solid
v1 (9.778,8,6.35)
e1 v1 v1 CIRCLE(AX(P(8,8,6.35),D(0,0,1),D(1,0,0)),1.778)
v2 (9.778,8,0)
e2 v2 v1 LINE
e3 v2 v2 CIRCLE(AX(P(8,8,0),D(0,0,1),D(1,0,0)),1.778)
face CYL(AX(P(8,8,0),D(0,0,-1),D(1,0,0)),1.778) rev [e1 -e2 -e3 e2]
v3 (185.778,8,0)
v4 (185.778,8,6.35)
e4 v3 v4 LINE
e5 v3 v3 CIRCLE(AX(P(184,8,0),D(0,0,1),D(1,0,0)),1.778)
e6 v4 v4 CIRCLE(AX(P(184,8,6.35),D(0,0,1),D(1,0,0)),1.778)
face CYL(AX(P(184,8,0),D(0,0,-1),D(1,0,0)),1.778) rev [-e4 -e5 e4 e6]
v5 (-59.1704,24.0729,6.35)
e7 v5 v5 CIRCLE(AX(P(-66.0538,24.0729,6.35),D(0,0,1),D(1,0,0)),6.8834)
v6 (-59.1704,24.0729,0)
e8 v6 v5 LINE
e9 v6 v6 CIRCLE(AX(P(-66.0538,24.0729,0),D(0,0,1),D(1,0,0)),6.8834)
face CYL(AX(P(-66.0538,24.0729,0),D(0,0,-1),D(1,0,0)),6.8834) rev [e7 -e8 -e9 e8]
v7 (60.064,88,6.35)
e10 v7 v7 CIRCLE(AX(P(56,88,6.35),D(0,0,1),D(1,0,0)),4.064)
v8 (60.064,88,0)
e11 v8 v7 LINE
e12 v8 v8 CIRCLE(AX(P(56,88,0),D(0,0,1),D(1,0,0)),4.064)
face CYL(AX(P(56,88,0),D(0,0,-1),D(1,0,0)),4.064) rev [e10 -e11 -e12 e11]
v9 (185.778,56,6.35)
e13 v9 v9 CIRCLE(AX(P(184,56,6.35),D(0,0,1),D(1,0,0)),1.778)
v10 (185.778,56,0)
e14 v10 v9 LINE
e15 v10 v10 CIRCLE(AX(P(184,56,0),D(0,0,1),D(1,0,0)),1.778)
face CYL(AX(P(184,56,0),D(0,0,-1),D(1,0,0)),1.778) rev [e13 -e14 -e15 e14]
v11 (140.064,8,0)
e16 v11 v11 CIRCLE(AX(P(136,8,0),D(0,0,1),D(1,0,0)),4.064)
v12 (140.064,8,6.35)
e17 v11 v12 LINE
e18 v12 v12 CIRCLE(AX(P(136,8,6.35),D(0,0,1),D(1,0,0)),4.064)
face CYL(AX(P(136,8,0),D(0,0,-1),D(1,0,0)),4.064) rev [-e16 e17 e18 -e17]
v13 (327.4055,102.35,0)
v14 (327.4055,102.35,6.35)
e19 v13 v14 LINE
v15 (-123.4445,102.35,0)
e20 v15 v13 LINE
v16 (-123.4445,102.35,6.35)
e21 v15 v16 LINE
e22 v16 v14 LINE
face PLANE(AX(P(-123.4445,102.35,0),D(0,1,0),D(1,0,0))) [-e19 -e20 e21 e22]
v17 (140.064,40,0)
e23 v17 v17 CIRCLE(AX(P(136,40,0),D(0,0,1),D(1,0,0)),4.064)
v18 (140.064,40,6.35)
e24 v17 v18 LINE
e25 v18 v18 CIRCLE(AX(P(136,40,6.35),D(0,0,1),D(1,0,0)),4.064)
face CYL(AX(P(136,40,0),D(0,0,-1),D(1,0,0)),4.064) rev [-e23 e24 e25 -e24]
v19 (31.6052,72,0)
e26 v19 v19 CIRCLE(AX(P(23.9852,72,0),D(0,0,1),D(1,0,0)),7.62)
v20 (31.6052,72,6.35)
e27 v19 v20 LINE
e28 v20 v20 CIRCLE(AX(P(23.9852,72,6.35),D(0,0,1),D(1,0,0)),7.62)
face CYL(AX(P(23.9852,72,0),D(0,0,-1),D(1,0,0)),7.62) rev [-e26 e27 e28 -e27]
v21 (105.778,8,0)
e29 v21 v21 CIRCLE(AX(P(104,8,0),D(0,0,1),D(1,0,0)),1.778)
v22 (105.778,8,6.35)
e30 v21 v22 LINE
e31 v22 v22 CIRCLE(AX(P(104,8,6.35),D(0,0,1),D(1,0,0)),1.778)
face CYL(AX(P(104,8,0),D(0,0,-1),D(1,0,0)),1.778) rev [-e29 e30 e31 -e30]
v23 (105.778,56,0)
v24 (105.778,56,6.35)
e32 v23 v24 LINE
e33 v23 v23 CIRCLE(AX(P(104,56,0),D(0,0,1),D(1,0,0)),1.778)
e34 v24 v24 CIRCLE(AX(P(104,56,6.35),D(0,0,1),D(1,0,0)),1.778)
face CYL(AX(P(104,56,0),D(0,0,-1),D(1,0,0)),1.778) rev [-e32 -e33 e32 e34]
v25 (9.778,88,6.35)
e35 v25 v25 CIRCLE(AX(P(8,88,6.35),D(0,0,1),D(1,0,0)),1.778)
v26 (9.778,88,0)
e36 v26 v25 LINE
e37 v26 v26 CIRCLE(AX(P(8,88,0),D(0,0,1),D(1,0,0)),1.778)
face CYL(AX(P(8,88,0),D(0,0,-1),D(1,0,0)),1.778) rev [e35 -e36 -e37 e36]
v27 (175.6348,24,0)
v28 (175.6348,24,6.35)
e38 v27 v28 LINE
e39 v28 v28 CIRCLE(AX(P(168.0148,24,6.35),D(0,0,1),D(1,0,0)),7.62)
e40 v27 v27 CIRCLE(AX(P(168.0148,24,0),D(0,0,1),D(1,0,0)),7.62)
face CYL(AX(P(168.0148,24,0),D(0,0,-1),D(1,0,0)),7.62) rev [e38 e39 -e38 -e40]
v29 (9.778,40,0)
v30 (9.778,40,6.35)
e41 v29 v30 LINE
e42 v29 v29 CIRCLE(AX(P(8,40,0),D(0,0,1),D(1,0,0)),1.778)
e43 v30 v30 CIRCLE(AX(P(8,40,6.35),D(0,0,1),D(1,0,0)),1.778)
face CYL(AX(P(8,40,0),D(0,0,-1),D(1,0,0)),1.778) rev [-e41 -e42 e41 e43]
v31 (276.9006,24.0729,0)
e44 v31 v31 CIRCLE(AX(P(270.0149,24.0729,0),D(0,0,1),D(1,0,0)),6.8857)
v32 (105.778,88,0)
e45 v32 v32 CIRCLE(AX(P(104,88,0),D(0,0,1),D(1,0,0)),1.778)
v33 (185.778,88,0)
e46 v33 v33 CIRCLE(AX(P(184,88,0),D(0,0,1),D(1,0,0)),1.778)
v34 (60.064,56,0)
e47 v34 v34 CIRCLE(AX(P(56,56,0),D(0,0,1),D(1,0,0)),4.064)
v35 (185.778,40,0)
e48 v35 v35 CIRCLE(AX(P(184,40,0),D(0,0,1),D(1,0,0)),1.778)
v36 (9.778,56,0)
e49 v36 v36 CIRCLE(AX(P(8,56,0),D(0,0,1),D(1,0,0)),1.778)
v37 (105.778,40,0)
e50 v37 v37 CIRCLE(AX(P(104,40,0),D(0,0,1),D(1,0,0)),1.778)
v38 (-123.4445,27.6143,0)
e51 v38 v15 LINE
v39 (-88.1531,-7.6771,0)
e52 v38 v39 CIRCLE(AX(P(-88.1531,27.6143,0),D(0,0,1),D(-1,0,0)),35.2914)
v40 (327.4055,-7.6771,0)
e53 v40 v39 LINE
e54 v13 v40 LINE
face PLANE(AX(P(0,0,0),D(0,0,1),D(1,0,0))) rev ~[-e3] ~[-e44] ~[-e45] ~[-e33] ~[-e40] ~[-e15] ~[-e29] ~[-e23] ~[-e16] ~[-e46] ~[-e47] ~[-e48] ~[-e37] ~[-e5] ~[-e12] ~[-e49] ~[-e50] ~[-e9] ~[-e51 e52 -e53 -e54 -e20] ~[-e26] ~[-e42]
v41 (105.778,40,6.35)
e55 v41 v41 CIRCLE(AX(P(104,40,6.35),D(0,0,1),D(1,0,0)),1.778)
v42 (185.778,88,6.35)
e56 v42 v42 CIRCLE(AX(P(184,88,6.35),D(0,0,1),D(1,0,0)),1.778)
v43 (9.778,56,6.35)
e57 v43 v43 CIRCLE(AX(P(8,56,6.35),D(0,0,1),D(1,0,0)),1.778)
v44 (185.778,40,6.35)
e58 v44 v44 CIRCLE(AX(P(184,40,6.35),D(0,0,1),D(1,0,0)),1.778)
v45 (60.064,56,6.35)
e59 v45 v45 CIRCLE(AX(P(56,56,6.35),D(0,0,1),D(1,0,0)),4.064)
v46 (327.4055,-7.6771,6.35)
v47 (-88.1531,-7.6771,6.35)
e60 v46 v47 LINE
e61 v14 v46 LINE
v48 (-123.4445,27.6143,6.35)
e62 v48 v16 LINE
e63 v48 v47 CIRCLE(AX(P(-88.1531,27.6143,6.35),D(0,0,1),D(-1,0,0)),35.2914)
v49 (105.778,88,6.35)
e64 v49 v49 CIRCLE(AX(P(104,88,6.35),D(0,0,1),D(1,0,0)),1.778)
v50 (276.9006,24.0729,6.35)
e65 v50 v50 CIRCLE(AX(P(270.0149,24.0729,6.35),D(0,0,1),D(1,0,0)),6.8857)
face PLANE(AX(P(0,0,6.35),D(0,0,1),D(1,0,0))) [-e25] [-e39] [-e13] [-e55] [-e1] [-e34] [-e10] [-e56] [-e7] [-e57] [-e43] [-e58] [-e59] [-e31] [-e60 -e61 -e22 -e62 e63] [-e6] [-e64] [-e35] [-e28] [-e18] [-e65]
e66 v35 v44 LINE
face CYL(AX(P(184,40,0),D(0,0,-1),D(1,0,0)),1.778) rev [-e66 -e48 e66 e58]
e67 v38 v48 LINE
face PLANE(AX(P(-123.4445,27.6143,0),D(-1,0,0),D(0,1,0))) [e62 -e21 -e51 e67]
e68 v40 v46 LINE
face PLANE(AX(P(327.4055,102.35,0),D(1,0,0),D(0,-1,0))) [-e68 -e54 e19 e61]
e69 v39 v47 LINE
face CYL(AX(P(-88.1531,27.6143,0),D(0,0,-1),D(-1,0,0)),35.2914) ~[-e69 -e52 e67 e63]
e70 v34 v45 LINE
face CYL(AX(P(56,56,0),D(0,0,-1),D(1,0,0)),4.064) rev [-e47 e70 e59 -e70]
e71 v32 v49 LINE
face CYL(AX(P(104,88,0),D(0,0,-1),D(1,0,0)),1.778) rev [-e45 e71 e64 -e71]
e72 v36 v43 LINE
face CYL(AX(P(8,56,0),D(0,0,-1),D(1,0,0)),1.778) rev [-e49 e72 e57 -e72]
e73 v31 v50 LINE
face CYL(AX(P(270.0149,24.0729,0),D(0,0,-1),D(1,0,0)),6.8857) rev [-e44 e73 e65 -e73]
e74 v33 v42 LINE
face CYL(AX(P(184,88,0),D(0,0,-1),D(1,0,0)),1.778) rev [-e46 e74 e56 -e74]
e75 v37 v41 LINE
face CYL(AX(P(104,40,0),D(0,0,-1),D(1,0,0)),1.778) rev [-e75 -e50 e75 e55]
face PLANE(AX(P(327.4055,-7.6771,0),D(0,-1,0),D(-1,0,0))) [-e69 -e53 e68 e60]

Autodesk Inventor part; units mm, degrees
ref_plane "YZ Plane" through (0, 0, 0) normal (1, 0, 0) x (0, 1, 0)
ref_plane "XZ Plane" through (0, 0, 0) normal (0, 1, 0) x (-1, 0, 0)
ref_plane "XY Plane" through (0, 0, 0) normal (0, 0, 1) x (1, 0, 0)
ref_plane "Work Plane1" through (0, 0, 0) normal (0, 0, 1) x (1, 0, 0)
sketch "Sketch1" plane through (0, 0, 0) normal (0, 0, 1) x (1, 0, 0)
  circle A0 centre (104, 56) radius 1.778 construction
  circle A1 centre (104, 88) radius 1.778 construction
  circle A2 centre (184, 88) radius 1.778 construction
  line L0 (327.4055, 102.35) -> (327.4055, -7.6771) construction
  line L1 (-123.4445, 102.35) -> (327.4055, 102.35) construction
  line L2 (-123.4445, 27.6143) -> (-123.4445, 102.35) construction
  arc A3 (-123.4445, 27.6143) -> (-88.1531, -7.6771) centre (-88.1531, 27.6143) ccw construction
  line L3 (327.4055, -7.6771) -> (-88.1531, -7.6771) construction
  circle A4 centre (270.0149, 24.0729) radius 6.8857 construction
  circle A5 centre (-66.0538, 24.0729) radius 6.8834 construction
  circle A6 centre (168.0148, 24) radius 6.8834 construction
  circle A7 centre (23.9852, 72) radius 6.8834 construction
  line L4 (-123.4445, 102.35) -> (327.4055, 102.35)
  line L5 (327.4055, 102.35) -> (327.4055, -7.6771)
  line L6 (327.4055, -7.6771) -> (-88.1531, -7.6771)
  line L7 (-123.4445, 27.6143) -> (-123.4445, 102.35)
  arc A8 (-123.4445, 27.6143) -> (-88.1531, -7.6771) centre (-88.1531, 27.6143) ccw
  circle A9 centre (-66.0538, 24.0729) radius 6.8834
  circle A10 centre (270.0149, 24.0729) radius 6.8857
  circle A11 centre (23.9852, 72) radius 7.62
  circle A12 centre (168.0148, 24) radius 7.62
  circle A13 centre (56, 56) radius 3.5 construction
  circle A14 centre (136, 40) radius 3.5 construction
  circle A15 centre (136, 8) radius 3.5 construction
  circle A16 centre (56, 88) radius 3.5 construction
  circle A17 centre (56, 88) radius 4.064
  circle A18 centre (56, 56) radius 4.064
  circle A19 centre (136, 40) radius 4.064
  circle A20 centre (136, 8) radius 4.064
  line L8 (192, 0) -> (192, 48) construction
  line L9 (0, 48) -> (192, 48) construction
  line L10 (0, 0) -> (0, 48) construction
  line L11 (0, 0) -> (192, 0) construction
  circle A21 centre (168, 24) radius 7 construction
  circle A22 centre (144, 24) radius 7 construction
  arc A23 (160.9289, 33.8995) -> (158.1005, 31.0711) centre (159.5147, 32.4853) ccw construction
  line L12 (161.4142, 33.4142) -> (160.9289, 33.8995) construction
  arc A24 (158.5858, 30.5858) -> (161.4142, 33.4142) centre (160, 32) ccw construction
  line L13 (158.1005, 31.0711) -> (158.5858, 30.5858) construction
  line L14 (155.3137, 22) -> (156.6863, 22) construction
  arc A25 (155.3137, 26) -> (155.3137, 22) centre (155.3137, 24) ccw construction
  line L15 (156.6863, 26) -> (155.3137, 26) construction
  arc A26 (156.6863, 22) -> (156.6863, 26) centre (156.6863, 24) ccw construction
  arc A27 (158.1005, 16.9289) -> (160.9289, 14.1005) centre (159.5147, 15.5147) ccw construction
  line L16 (158.5858, 17.4142) -> (158.1005, 16.9289) construction
  arc A28 (161.4142, 14.5858) -> (158.5858, 17.4142) centre (160, 16) ccw construction
  line L17 (160.9289, 14.1005) -> (161.4142, 14.5858) construction
  arc A29 (177.8995, 31.0711) -> (175.0711, 33.8995) centre (176.4853, 32.4853) ccw construction
  line L18 (177.4142, 30.5858) -> (177.8995, 31.0711) construction
  arc A30 (174.5858, 33.4142) -> (177.4142, 30.5858) centre (176, 32) ccw construction
  line L19 (175.0711, 33.8995) -> (174.5858, 33.4142) construction
  line L20 (180.6863, 26) -> (179.3137, 26) construction
  arc A31 (180.6863, 22) -> (180.6863, 26) centre (180.6863, 24) ccw construction
  line L21 (179.3137, 22) -> (180.6863, 22) construction
  arc A32 (179.3137, 26) -> (179.3137, 22) centre (179.3137, 24) ccw construction
  line L22 (170, 35.3137) -> (170, 40) construction
  arc A33 (166, 35.3137) -> (170, 35.3137) centre (168, 35.3137) ccw construction
  line L23 (166, 40) -> (166, 35.3137) construction
  arc A34 (170, 40) -> (166, 40) centre (168, 40) ccw construction
  circle A35 centre (160, 40) radius 2 construction
  circle A36 centre (152, 40) radius 2 construction
  line L24 (146, 35.3137) -> (146, 40) construction
  arc A37 (142, 35.3137) -> (146, 35.3137) centre (144, 35.3137) ccw construction
  line L25 (142, 40) -> (142, 35.3137) construction
  arc A38 (146, 40) -> (142, 40) centre (144, 40) ccw construction
  circle A39 centre (136, 40) radius 2 construction
  circle A40 centre (128, 40) radius 2 construction
  line L26 (122, 35.3137) -> (122, 40) construction
  arc A41 (118, 35.3137) -> (122, 35.3137) centre (120, 35.3137) ccw construction
  line L27 (118, 40) -> (118, 35.3137) construction
  arc A42 (122, 40) -> (118, 40) centre (120, 40) ccw construction
  circle A43 centre (112, 40) radius 2 construction
  circle A44 centre (104, 40) radius 2 construction
  line L28 (98, 35.3137) -> (98, 40) construction
  arc A45 (94, 35.3137) -> (98, 35.3137) centre (96, 35.3137) ccw construction
  line L29 (94, 40) -> (94, 35.3137) construction
  arc A46 (98, 40) -> (94, 40) centre (96, 40) ccw construction
  circle A47 centre (88, 40) radius 2 construction
  circle A48 centre (80, 40) radius 2 construction
  line L30 (74, 35.3137) -> (74, 40) construction
  arc A49 (70, 35.3137) -> (74, 35.3137) centre (72, 35.3137) ccw construction
  line L31 (70, 40) -> (70, 35.3137) construction
  arc A50 (74, 40) -> (70, 40) centre (72, 40) ccw construction
  circle A51 centre (64, 40) radius 2 construction
  circle A52 centre (56, 40) radius 2 construction
  line L32 (50, 35.3137) -> (50, 40) construction
  arc A53 (46, 35.3137) -> (50, 35.3137) centre (48, 35.3137) ccw construction
  line L33 (46, 40) -> (46, 35.3137) construction
  arc A54 (50, 40) -> (46, 40) centre (48, 40) ccw construction
  circle A55 centre (40, 40) radius 2 construction
  circle A56 centre (32, 40) radius 2 construction
  line L34 (26, 35.3137) -> (26, 40) construction
  arc A57 (22, 35.3137) -> (26, 35.3137) centre (24, 35.3137) ccw construction
  line L35 (22, 40) -> (22, 35.3137) construction
  arc A58 (26, 40) -> (22, 40) centre (24, 40) ccw construction
  circle A59 centre (16, 40) radius 2 construction
  circle A60 centre (8, 40) radius 2 construction
  line L36 (166, 12.6863) -> (166, 8) construction
  arc A61 (170, 12.6863) -> (166, 12.6863) centre (168, 12.6863) ccw construction
  line L37 (170, 8) -> (170, 12.6863) construction
  arc A62 (166, 8) -> (170, 8) centre (168, 8) ccw construction
  circle A63 centre (160, 8) radius 2 construction
  circle A64 centre (152, 8) radius 2 construction
  line L38 (142, 12.6863) -> (142, 8) construction
  arc A65 (146, 12.6863) -> (142, 12.6863) centre (144, 12.6863) ccw construction
  line L39 (146, 8) -> (146, 12.6863) construction
  arc A66 (142, 8) -> (146, 8) centre (144, 8) ccw construction
  circle A67 centre (136, 8) radius 2 construction
  circle A68 centre (128, 8) radius 2 construction
  line L40 (118, 12.6863) -> (118, 8) construction
  arc A69 (122, 12.6863) -> (118, 12.6863) centre (120, 12.6863) ccw construction
  line L41 (122, 8) -> (122, 12.6863) construction
  arc A70 (118, 8) -> (122, 8) centre (120, 8) ccw construction
  circle A71 centre (112, 8) radius 2 construction
  circle A72 centre (104, 8) radius 2 construction
  line L42 (94, 12.6863) -> (94, 8) construction
  arc A73 (98, 12.6863) -> (94, 12.6863) centre (96, 12.6863) ccw construction
  line L43 (98, 8) -> (98, 12.6863) construction
  arc A74 (94, 8) -> (98, 8) centre (96, 8) ccw construction
  circle A75 centre (88, 8) radius 2 construction
  circle A76 centre (80, 8) radius 2 construction
  line L44 (70, 12.6863) -> (70, 8) construction
  arc A77 (74, 12.6863) -> (70, 12.6863) centre (72, 12.6863) ccw construction
  line L45 (74, 8) -> (74, 12.6863) construction
  arc A78 (70, 8) -> (74, 8) centre (72, 8) ccw construction
  circle A79 centre (64, 8) radius 2 construction
  circle A80 centre (56, 8) radius 2 construction
  line L46 (46, 12.6863) -> (46, 8) construction
  arc A81 (50, 12.6863) -> (46, 12.6863) centre (48, 12.6863) ccw construction
  line L47 (50, 8) -> (50, 12.6863) construction
  arc A82 (46, 8) -> (50, 8) centre (48, 8) ccw construction
  circle A83 centre (40, 8) radius 2 construction
  circle A84 centre (32, 8) radius 2 construction
  line L48 (22, 12.6863) -> (22, 8) construction
  arc A85 (26, 12.6863) -> (22, 12.6863) centre (24, 12.6863) ccw construction
  line L49 (26, 8) -> (26, 12.6863) construction
  arc A86 (22, 8) -> (26, 8) centre (24, 8) ccw construction
  circle A87 centre (16, 8) radius 2 construction
  circle A88 centre (8, 8) radius 2 construction
  arc A89 (9.8995, 31.0711) -> (7.0711, 33.8995) centre (8.4853, 32.4853) ccw construction
  line L50 (9.4142, 30.5858) -> (9.8995, 31.0711) construction
  arc A90 (6.5858, 33.4142) -> (9.4142, 30.5858) centre (8, 32) ccw construction
  line L51 (7.0711, 33.8995) -> (6.5858, 33.4142) construction
  arc A91 (7.0711, 14.1005) -> (9.8995, 16.9289) centre (8.4853, 15.5147) ccw construction
  line L52 (6.5858, 14.5858) -> (7.0711, 14.1005) construction
  arc A92 (9.4142, 17.4142) -> (6.5858, 14.5858) centre (8, 16) ccw construction
  line L53 (9.8995, 16.9289) -> (9.4142, 17.4142) construction
  arc A93 (184.9289, 33.8995) -> (182.1005, 31.0711) centre (183.5147, 32.4853) ccw construction
  line L54 (185.4142, 33.4142) -> (184.9289, 33.8995) construction
  arc A94 (182.5858, 30.5858) -> (185.4142, 33.4142) centre (184, 32) ccw construction
  line L55 (182.1005, 31.0711) -> (182.5858, 30.5858) construction
  arc A95 (182.1005, 16.9289) -> (184.9289, 14.1005) centre (183.5147, 15.5147) ccw construction
  line L56 (182.5858, 17.4142) -> (182.1005, 16.9289) construction
  arc A96 (185.4142, 14.5858) -> (182.5858, 17.4142) centre (184, 16) ccw construction
  line L57 (184.9289, 14.1005) -> (185.4142, 14.5858) construction
  circle A97 centre (176, 8) radius 2 construction
  circle A98 centre (176, 40) radius 2 construction
  circle A99 centre (184, 40) radius 2 construction
  circle A100 centre (184, 8) radius 2 construction
  arc A101 (33.8995, 31.0711) -> (31.0711, 33.8995) centre (32.4853, 32.4853) ccw construction
  line L58 (33.4142, 30.5858) -> (33.8995, 31.0711) construction
  arc A102 (30.5858, 33.4142) -> (33.4142, 30.5858) centre (32, 32) ccw construction
  line L59 (31.0711, 33.8995) -> (30.5858, 33.4142) construction
  arc A103 (57.8995, 31.0711) -> (55.0711, 33.8995) centre (56.4853, 32.4853) ccw construction
  line L60 (57.4142, 30.5858) -> (57.8995, 31.0711) construction
  arc A104 (54.5858, 33.4142) -> (57.4142, 30.5858) centre (56, 32) ccw construction
  line L61 (55.0711, 33.8995) -> (54.5858, 33.4142) construction
  arc A105 (81.8995, 31.0711) -> (79.0711, 33.8995) centre (80.4853, 32.4853) ccw construction
  line L62 (81.4142, 30.5858) -> (81.8995, 31.0711) construction
  arc A106 (78.5858, 33.4142) -> (81.4142, 30.5858) centre (80, 32) ccw construction
  line L63 (79.0711, 33.8995) -> (78.5858, 33.4142) construction
  arc A107 (105.8995, 31.0711) -> (103.0711, 33.8995) centre (104.4853, 32.4853) ccw construction
  line L64 (105.4142, 30.5858) -> (105.8995, 31.0711) construction
  arc A108 (102.5858, 33.4142) -> (105.4142, 30.5858) centre (104, 32) ccw construction
  line L65 (103.0711, 33.8995) -> (102.5858, 33.4142) construction
  arc A109 (129.8995, 31.0711) -> (127.0711, 33.8995) centre (128.4853, 32.4853) ccw construction
  line L66 (129.4142, 30.5858) -> (129.8995, 31.0711) construction
  arc A110 (126.5858, 33.4142) -> (129.4142, 30.5858) centre (128, 32) ccw construction
  line L67 (127.0711, 33.8995) -> (126.5858, 33.4142) construction
  arc A111 (153.8995, 31.0711) -> (151.0711, 33.8995) centre (152.4853, 32.4853) ccw construction
  line L68 (153.4142, 30.5858) -> (153.8995, 31.0711) construction
  arc A112 (150.5858, 33.4142) -> (153.4142, 30.5858) centre (152, 32) ccw construction
  line L69 (151.0711, 33.8995) -> (150.5858, 33.4142) construction
  arc A113 (14.1005, 16.9289) -> (16.9289, 14.1005) centre (15.5147, 15.5147) ccw construction
  line L70 (14.5858, 17.4142) -> (14.1005, 16.9289) construction
  arc A114 (17.4142, 14.5858) -> (14.5858, 17.4142) centre (16, 16) ccw construction
  line L71 (16.9289, 14.1005) -> (17.4142, 14.5858) construction
  arc A115 (38.1005, 16.9289) -> (40.9289, 14.1005) centre (39.5147, 15.5147) ccw construction
  line L72 (38.5858, 17.4142) -> (38.1005, 16.9289) construction
  arc A116 (41.4142, 14.5858) -> (38.5858, 17.4142) centre (40, 16) ccw construction
  line L73 (40.9289, 14.1005) -> (41.4142, 14.5858) construction
  arc A117 (62.1005, 16.9289) -> (64.9289, 14.1005) centre (63.5147, 15.5147) ccw construction
  line L74 (62.5858, 17.4142) -> (62.1005, 16.9289) construction
  arc A118 (65.4142, 14.5858) -> (62.5858, 17.4142) centre (64, 16) ccw construction
  line L75 (64.9289, 14.1005) -> (65.4142, 14.5858) construction
  arc A119 (86.1005, 16.9289) -> (88.9289, 14.1005) centre (87.5147, 15.5147) ccw construction
  line L76 (86.5858, 17.4142) -> (86.1005, 16.9289) construction
  arc A120 (89.4142, 14.5858) -> (86.5858, 17.4142) centre (88, 16) ccw construction
  line L77 (88.9289, 14.1005) -> (89.4142, 14.5858) construction
  arc A121 (110.1005, 16.9289) -> (112.9289, 14.1005) centre (111.5147, 15.5147) ccw construction
  line L78 (110.5858, 17.4142) -> (110.1005, 16.9289) construction
  arc A122 (113.4142, 14.5858) -> (110.5858, 17.4142) centre (112, 16) ccw construction
  line L79 (112.9289, 14.1005) -> (113.4142, 14.5858) construction
  arc A123 (134.1005, 16.9289) -> (136.9289, 14.1005) centre (135.5147, 15.5147) ccw construction
  line L80 (134.5858, 17.4142) -> (134.1005, 16.9289) construction
  arc A124 (137.4142, 14.5858) -> (134.5858, 17.4142) centre (136, 16) ccw construction
  line L81 (136.9289, 14.1005) -> (137.4142, 14.5858) construction
  arc A125 (11.3137, 26) -> (11.3137, 22) centre (11.3137, 24) ccw construction
  line L82 (12.6863, 26) -> (11.3137, 26) construction
  arc A126 (12.6863, 22) -> (12.6863, 26) centre (12.6863, 24) ccw construction
  line L83 (11.3137, 22) -> (12.6863, 22) construction
  line L84 (35.3137, 22) -> (36.6863, 22) construction
  arc A127 (35.3137, 26) -> (35.3137, 22) centre (35.3137, 24) ccw construction
  line L85 (36.6863, 26) -> (35.3137, 26) construction
  arc A128 (36.6863, 22) -> (36.6863, 26) centre (36.6863, 24) ccw construction
  line L86 (59.3137, 22) -> (60.6863, 22) construction
  arc A129 (59.3137, 26) -> (59.3137, 22) centre (59.3137, 24) ccw construction
  line L87 (60.6863, 26) -> (59.3137, 26) construction
  arc A130 (60.6863, 22) -> (60.6863, 26) centre (60.6863, 24) ccw construction
  line L88 (83.3137, 22) -> (84.6863, 22) construction
  arc A131 (83.3137, 26) -> (83.3137, 22) centre (83.3137, 24) ccw construction
  line L89 (84.6863, 26) -> (83.3137, 26) construction
  arc A132 (84.6863, 22) -> (84.6863, 26) centre (84.6863, 24) ccw construction
  line L90 (107.3137, 22) -> (108.6863, 22) construction
  arc A133 (107.3137, 26) -> (107.3137, 22) centre (107.3137, 24) ccw construction
  line L91 (108.6863, 26) -> (107.3137, 26) construction
  arc A134 (108.6863, 22) -> (108.6863, 26) centre (108.6863, 24) ccw construction
  line L92 (131.3137, 22) -> (132.6863, 22) construction
  arc A135 (131.3137, 26) -> (131.3137, 22) centre (131.3137, 24) ccw construction
  line L93 (132.6863, 26) -> (131.3137, 26) construction
  arc A136 (132.6863, 22) -> (132.6863, 26) centre (132.6863, 24) ccw construction
  arc A137 (16.9289, 33.8995) -> (14.1005, 31.0711) centre (15.5147, 32.4853) ccw construction
  line L94 (17.4142, 33.4142) -> (16.9289, 33.8995) construction
  arc A138 (14.5858, 30.5858) -> (17.4142, 33.4142) centre (16, 32) ccw construction
  line L95 (14.1005, 31.0711) -> (14.5858, 30.5858) construction
  arc A139 (40.9289, 33.8995) -> (38.1005, 31.0711) centre (39.5147, 32.4853) ccw construction
  line L96 (41.4142, 33.4142) -> (40.9289, 33.8995) construction
  arc A140 (38.5858, 30.5858) -> (41.4142, 33.4142) centre (40, 32) ccw construction
  line L97 (38.1005, 31.0711) -> (38.5858, 30.5858) construction
  arc A141 (64.9289, 33.8995) -> (62.1005, 31.0711) centre (63.5147, 32.4853) ccw construction
  line L98 (65.4142, 33.4142) -> (64.9289, 33.8995) construction
  arc A142 (62.5858, 30.5858) -> (65.4142, 33.4142) centre (64, 32) ccw construction
  line L99 (62.1005, 31.0711) -> (62.5858, 30.5858) construction
  arc A143 (88.9289, 33.8995) -> (86.1005, 31.0711) centre (87.5147, 32.4853) ccw construction
  line L100 (89.4142, 33.4142) -> (88.9289, 33.8995) construction
  arc A144 (86.5858, 30.5858) -> (89.4142, 33.4142) centre (88, 32) ccw construction
  line L101 (86.1005, 31.0711) -> (86.5858, 30.5858) construction
  arc A145 (112.9289, 33.8995) -> (110.1005, 31.0711) centre (111.5147, 32.4853) ccw construction
  line L102 (113.4142, 33.4142) -> (112.9289, 33.8995) construction
  arc A146 (110.5858, 30.5858) -> (113.4142, 33.4142) centre (112, 32) ccw construction
  line L103 (110.1005, 31.0711) -> (110.5858, 30.5858) construction
  arc A147 (136.9289, 33.8995) -> (134.1005, 31.0711) centre (135.5147, 32.4853) ccw construction
  line L104 (137.4142, 33.4142) -> (136.9289, 33.8995) construction
  arc A148 (134.5858, 30.5858) -> (137.4142, 33.4142) centre (136, 32) ccw construction
  line L105 (134.1005, 31.0711) -> (134.5858, 30.5858) construction
  arc A149 (31.0711, 14.1005) -> (33.8995, 16.9289) centre (32.4853, 15.5147) ccw construction
  line L106 (30.5858, 14.5858) -> (31.0711, 14.1005) construction
  arc A150 (33.4142, 17.4142) -> (30.5858, 14.5858) centre (32, 16) ccw construction
  line L107 (33.8995, 16.9289) -> (33.4142, 17.4142) construction
  arc A151 (55.0711, 14.1005) -> (57.8995, 16.9289) centre (56.4853, 15.5147) ccw construction
  line L108 (54.5858, 14.5858) -> (55.0711, 14.1005) construction
  arc A152 (57.4142, 17.4142) -> (54.5858, 14.5858) centre (56, 16) ccw construction
  line L109 (57.8995, 16.9289) -> (57.4142, 17.4142) construction
  arc A153 (79.0711, 14.1005) -> (81.8995, 16.9289) centre (80.4853, 15.5147) ccw construction
  line L110 (78.5858, 14.5858) -> (79.0711, 14.1005) construction
  arc A154 (81.4142, 17.4142) -> (78.5858, 14.5858) centre (80, 16) ccw construction
  line L111 (81.8995, 16.9289) -> (81.4142, 17.4142) construction
  arc A155 (103.0711, 14.1005) -> (105.8995, 16.9289) centre (104.4853, 15.5147) ccw construction
  line L112 (102.5858, 14.5858) -> (103.0711, 14.1005) construction
  arc A156 (105.4142, 17.4142) -> (102.5858, 14.5858) centre (104, 16) ccw construction
  line L113 (105.8995, 16.9289) -> (105.4142, 17.4142) construction
  arc A157 (127.0711, 14.1005) -> (129.8995, 16.9289) centre (128.4853, 15.5147) ccw construction
  line L114 (126.5858, 14.5858) -> (127.0711, 14.1005) construction
  arc A158 (129.4142, 17.4142) -> (126.5858, 14.5858) centre (128, 16) ccw construction
  line L115 (129.8995, 16.9289) -> (129.4142, 17.4142) construction
  arc A159 (151.0711, 14.1005) -> (153.8995, 16.9289) centre (152.4853, 15.5147) ccw construction
  line L116 (150.5858, 14.5858) -> (151.0711, 14.1005) construction
  arc A160 (153.4142, 17.4142) -> (150.5858, 14.5858) centre (152, 16) ccw construction
  line L117 (153.8995, 16.9289) -> (153.4142, 17.4142) construction
  arc A161 (175.0711, 14.1005) -> (177.8995, 16.9289) centre (176.4853, 15.5147) ccw construction
  line L118 (174.5858, 14.5858) -> (175.0711, 14.1005) construction
  arc A162 (177.4142, 17.4142) -> (174.5858, 14.5858) centre (176, 16) ccw construction
  line L119 (177.8995, 16.9289) -> (177.4142, 17.4142) construction
  circle A163 centre (24, 24) radius 7 construction
  circle A164 centre (48, 24) radius 7 construction
  circle A165 centre (72, 24) radius 7 construction
  circle A166 centre (96, 24) radius 7 construction
  circle A167 centre (120, 24) radius 7 construction
  line L120 (0, 96) -> (0, 48) construction
  line L121 (192, 48) -> (0, 48) construction
  line L122 (192, 96) -> (192, 48) construction
  line L123 (192, 96) -> (0, 96) construction
  circle A168 centre (24, 72) radius 7 construction
  circle A169 centre (48, 72) radius 7 construction
  arc A170 (31.0711, 62.1005) -> (33.8995, 64.9289) centre (32.4853, 63.5147) ccw construction
  line L124 (30.5858, 62.5858) -> (31.0711, 62.1005) construction
  arc A171 (33.4142, 65.4142) -> (30.5858, 62.5858) centre (32, 64) ccw construction
  line L125 (33.8995, 64.9289) -> (33.4142, 65.4142) construction
  line L126 (36.6863, 74) -> (35.3137, 74) construction
  arc A172 (36.6863, 70) -> (36.6863, 74) centre (36.6863, 72) ccw construction
  line L127 (35.3137, 70) -> (36.6863, 70) construction
  arc A173 (35.3137, 74) -> (35.3137, 70) centre (35.3137, 72) ccw construction
  arc A174 (33.8995, 79.0711) -> (31.0711, 81.8995) centre (32.4853, 80.4853) ccw construction
  line L128 (33.4142, 78.5858) -> (33.8995, 79.0711) construction
  arc A175 (30.5858, 81.4142) -> (33.4142, 78.5858) centre (32, 80) ccw construction
  line L129 (31.0711, 81.8995) -> (30.5858, 81.4142) construction
  arc A176 (14.1005, 64.9289) -> (16.9289, 62.1005) centre (15.5147, 63.5147) ccw construction
  line L130 (14.5858, 65.4142) -> (14.1005, 64.9289) construction
  arc A177 (17.4142, 62.5858) -> (14.5858, 65.4142) centre (16, 64) ccw construction
  line L131 (16.9289, 62.1005) -> (17.4142, 62.5858) construction
  line L132 (11.3137, 70) -> (12.6863, 70) construction
  arc A178 (11.3137, 74) -> (11.3137, 70) centre (11.3137, 72) ccw construction
  line L133 (12.6863, 74) -> (11.3137, 74) construction
  arc A179 (12.6863, 70) -> (12.6863, 74) centre (12.6863, 72) ccw construction
  line L134 (22, 60.6863) -> (22, 56) construction
  arc A180 (26, 60.6863) -> (22, 60.6863) centre (24, 60.6863) ccw construction
  line L135 (26, 56) -> (26, 60.6863) construction
  arc A181 (22, 56) -> (26, 56) centre (24, 56) ccw construction
  circle A182 centre (32, 56) radius 2 construction
  circle A183 centre (40, 56) radius 2 construction
  line L136 (46, 60.6863) -> (46, 56) construction
  arc A184 (50, 60.6863) -> (46, 60.6863) centre (48, 60.6863) ccw construction
  line L137 (50, 56) -> (50, 60.6863) construction
  arc A185 (46, 56) -> (50, 56) centre (48, 56) ccw construction
  circle A186 centre (56, 56) radius 2 construction
  circle A187 centre (64, 56) radius 2 construction
  line L138 (70, 60.6863) -> (70, 56) construction
  arc A188 (74, 60.6863) -> (70, 60.6863) centre (72, 60.6863) ccw construction
  line L139 (74, 56) -> (74, 60.6863) construction
  arc A189 (70, 56) -> (74, 56) centre (72, 56) ccw construction
  circle A190 centre (80, 56) radius 2 construction
  circle A191 centre (88, 56) radius 2 construction
  line L140 (94, 60.6863) -> (94, 56) construction
  arc A192 (98, 60.6863) -> (94, 60.6863) centre (96, 60.6863) ccw construction
  line L141 (98, 56) -> (98, 60.6863) construction
  arc A193 (94, 56) -> (98, 56) centre (96, 56) ccw construction
  circle A194 centre (104, 56) radius 2 construction
  circle A195 centre (112, 56) radius 2 construction
  line L142 (118, 60.6863) -> (118, 56) construction
  arc A196 (122, 60.6863) -> (118, 60.6863) centre (120, 60.6863) ccw construction
  line L143 (122, 56) -> (122, 60.6863) construction
  arc A197 (118, 56) -> (122, 56) centre (120, 56) ccw construction
  circle A198 centre (128, 56) radius 2 construction
  circle A199 centre (136, 56) radius 2 construction
  line L144 (142, 60.6863) -> (142, 56) construction
  arc A200 (146, 60.6863) -> (142, 60.6863) centre (144, 60.6863) ccw construction
  line L145 (146, 56) -> (146, 60.6863) construction
  arc A201 (142, 56) -> (146, 56) centre (144, 56) ccw construction
  circle A202 centre (152, 56) radius 2 construction
  circle A203 centre (160, 56) radius 2 construction
  line L146 (166, 60.6863) -> (166, 56) construction
  arc A204 (170, 60.6863) -> (166, 60.6863) centre (168, 60.6863) ccw construction
  line L147 (170, 56) -> (170, 60.6863) construction
  arc A205 (166, 56) -> (170, 56) centre (168, 56) ccw construction
  circle A206 centre (176, 56) radius 2 construction
  circle A207 centre (184, 56) radius 2 construction
  line L148 (26, 83.3137) -> (26, 88) construction
  arc A208 (22, 83.3137) -> (26, 83.3137) centre (24, 83.3137) ccw construction
  line L149 (22, 88) -> (22, 83.3137) construction
  arc A209 (26, 88) -> (22, 88) centre (24, 88) ccw construction
  circle A210 centre (32, 88) radius 2 construction
  circle A211 centre (40, 88) radius 2 construction
  line L150 (50, 83.3137) -> (50, 88) construction
  arc A212 (46, 83.3137) -> (50, 83.3137) centre (48, 83.3137) ccw construction
  line L151 (46, 88) -> (46, 83.3137) construction
  arc A213 (50, 88) -> (46, 88) centre (48, 88) ccw construction
  circle A214 centre (56, 88) radius 2 construction
  circle A215 centre (64, 88) radius 2 construction
  line L152 (74, 83.3137) -> (74, 88) construction
  arc A216 (70, 83.3137) -> (74, 83.3137) centre (72, 83.3137) ccw construction
  line L153 (70, 88) -> (70, 83.3137) construction
  arc A217 (74, 88) -> (70, 88) centre (72, 88) ccw construction
  circle A218 centre (80, 88) radius 2 construction
  circle A219 centre (88, 88) radius 2 construction
  line L154 (98, 83.3137) -> (98, 88) construction
  arc A220 (94, 83.3137) -> (98, 83.3137) centre (96, 83.3137) ccw construction
  line L155 (94, 88) -> (94, 83.3137) construction
  arc A221 (98, 88) -> (94, 88) centre (96, 88) ccw construction
  circle A222 centre (104, 88) radius 2 construction
  circle A223 centre (112, 88) radius 2 construction
  line L156 (122, 83.3137) -> (122, 88) construction
  arc A224 (118, 83.3137) -> (122, 83.3137) centre (120, 83.3137) ccw construction
  line L157 (118, 88) -> (118, 83.3137) construction
  arc A225 (122, 88) -> (118, 88) centre (120, 88) ccw construction
  circle A226 centre (128, 88) radius 2 construction
  circle A227 centre (136, 88) radius 2 construction
  line L158 (146, 83.3137) -> (146, 88) construction
  arc A228 (142, 83.3137) -> (146, 83.3137) centre (144, 83.3137) ccw construction
  line L159 (142, 88) -> (142, 83.3137) construction
  arc A229 (146, 88) -> (142, 88) centre (144, 88) ccw construction
  circle A230 centre (152, 88) radius 2 construction
  circle A231 centre (160, 88) radius 2 construction
  line L160 (170, 83.3137) -> (170, 88) construction
  arc A232 (166, 83.3137) -> (170, 83.3137) centre (168, 83.3137) ccw construction
  line L161 (166, 88) -> (166, 83.3137) construction
  arc A233 (170, 88) -> (166, 88) centre (168, 88) ccw construction
  circle A234 centre (176, 88) radius 2 construction
  circle A235 centre (184, 88) radius 2 construction
  arc A236 (182.1005, 64.9289) -> (184.9289, 62.1005) centre (183.5147, 63.5147) ccw construction
  line L162 (182.5858, 65.4142) -> (182.1005, 64.9289) construction
  arc A237 (185.4142, 62.5858) -> (182.5858, 65.4142) centre (184, 64) ccw construction
  line L163 (184.9289, 62.1005) -> (185.4142, 62.5858) construction
  arc A238 (184.9289, 81.8995) -> (182.1005, 79.0711) centre (183.5147, 80.4853) ccw construction
  line L164 (185.4142, 81.4142) -> (184.9289, 81.8995) construction
  arc A239 (182.5858, 78.5858) -> (185.4142, 81.4142) centre (184, 80) ccw construction
  line L165 (182.1005, 79.0711) -> (182.5858, 78.5858) construction
  arc A240 (7.0711, 62.1005) -> (9.8995, 64.9289) centre (8.4853, 63.5147) ccw construction
  line L166 (6.5858, 62.5858) -> (7.0711, 62.1005) construction
  arc A241 (9.4142, 65.4142) -> (6.5858, 62.5858) centre (8, 64) ccw construction
  line L167 (9.8995, 64.9289) -> (9.4142, 65.4142) construction
  arc A242 (9.8995, 79.0711) -> (7.0711, 81.8995) centre (8.4853, 80.4853) ccw construction
  line L168 (9.4142, 78.5858) -> (9.8995, 79.0711) construction
  arc A243 (6.5858, 81.4142) -> (9.4142, 78.5858) centre (8, 80) ccw construction
  line L169 (7.0711, 81.8995) -> (6.5858, 81.4142) construction
  circle A244 centre (16, 88) radius 2 construction
  circle A245 centre (16, 56) radius 2 construction
  circle A246 centre (8, 56) radius 2 construction
  circle A247 centre (8, 88) radius 2 construction
  arc A248 (158.1005, 64.9289) -> (160.9289, 62.1005) centre (159.5147, 63.5147) ccw construction
  line L170 (158.5858, 65.4142) -> (158.1005, 64.9289) construction
  arc A249 (161.4142, 62.5858) -> (158.5858, 65.4142) centre (160, 64) ccw construction
  line L171 (160.9289, 62.1005) -> (161.4142, 62.5858) construction
  arc A250 (134.1005, 64.9289) -> (136.9289, 62.1005) centre (135.5147, 63.5147) ccw construction
  line L172 (134.5858, 65.4142) -> (134.1005, 64.9289) construction
  arc A251 (137.4142, 62.5858) -> (134.5858, 65.4142) centre (136, 64) ccw construction
  line L173 (136.9289, 62.1005) -> (137.4142, 62.5858) construction
  arc A252 (110.1005, 64.9289) -> (112.9289, 62.1005) centre (111.5147, 63.5147) ccw construction
  line L174 (110.5858, 65.4142) -> (110.1005, 64.9289) construction
  arc A253 (113.4142, 62.5858) -> (110.5858, 65.4142) centre (112, 64) ccw construction
  line L175 (112.9289, 62.1005) -> (113.4142, 62.5858) construction
  arc A254 (86.1005, 64.9289) -> (88.9289, 62.1005) centre (87.5147, 63.5147) ccw construction
  line L176 (86.5858, 65.4142) -> (86.1005, 64.9289) construction
  arc A255 (89.4142, 62.5858) -> (86.5858, 65.4142) centre (88, 64) ccw construction
  line L177 (88.9289, 62.1005) -> (89.4142, 62.5858) construction
  arc A256 (62.1005, 64.9289) -> (64.9289, 62.1005) centre (63.5147, 63.5147) ccw construction
  line L178 (62.5858, 65.4142) -> (62.1005, 64.9289) construction
  arc A257 (65.4142, 62.5858) -> (62.5858, 65.4142) centre (64, 64) ccw construction
  line L179 (64.9289, 62.1005) -> (65.4142, 62.5858) construction
  arc A258 (38.1005, 64.9289) -> (40.9289, 62.1005) centre (39.5147, 63.5147) ccw construction
  line L180 (38.5858, 65.4142) -> (38.1005, 64.9289) construction
  arc A259 (41.4142, 62.5858) -> (38.5858, 65.4142) centre (40, 64) ccw construction
  line L181 (40.9289, 62.1005) -> (41.4142, 62.5858) construction
  arc A260 (177.8995, 79.0711) -> (175.0711, 81.8995) centre (176.4853, 80.4853) ccw construction
  line L182 (177.4142, 78.5858) -> (177.8995, 79.0711) construction
  arc A261 (174.5858, 81.4142) -> (177.4142, 78.5858) centre (176, 80) ccw construction
  line L183 (175.0711, 81.8995) -> (174.5858, 81.4142) construction
  arc A262 (153.8995, 79.0711) -> (151.0711, 81.8995) centre (152.4853, 80.4853) ccw construction
  line L184 (153.4142, 78.5858) -> (153.8995, 79.0711) construction
  arc A263 (150.5858, 81.4142) -> (153.4142, 78.5858) centre (152, 80) ccw construction
  line L185 (151.0711, 81.8995) -> (150.5858, 81.4142) construction
  arc A264 (129.8995, 79.0711) -> (127.0711, 81.8995) centre (128.4853, 80.4853) ccw construction
  line L186 (129.4142, 78.5858) -> (129.8995, 79.0711) construction
  arc A265 (126.5858, 81.4142) -> (129.4142, 78.5858) centre (128, 80) ccw construction
  line L187 (127.0711, 81.8995) -> (126.5858, 81.4142) construction
  arc A266 (105.8995, 79.0711) -> (103.0711, 81.8995) centre (104.4853, 80.4853) ccw construction
  line L188 (105.4142, 78.5858) -> (105.8995, 79.0711) construction
  arc A267 (102.5858, 81.4142) -> (105.4142, 78.5858) centre (104, 80) ccw construction
  line L189 (103.0711, 81.8995) -> (102.5858, 81.4142) construction
  arc A268 (81.8995, 79.0711) -> (79.0711, 81.8995) centre (80.4853, 80.4853) ccw construction
  line L190 (81.4142, 78.5858) -> (81.8995, 79.0711) construction
  arc A269 (78.5858, 81.4142) -> (81.4142, 78.5858) centre (80, 80) ccw construction
  line L191 (79.0711, 81.8995) -> (78.5858, 81.4142) construction
  arc A270 (57.8995, 79.0711) -> (55.0711, 81.8995) centre (56.4853, 80.4853) ccw construction
  line L192 (57.4142, 78.5858) -> (57.8995, 79.0711) construction
  arc A271 (54.5858, 81.4142) -> (57.4142, 78.5858) centre (56, 80) ccw construction
  line L193 (55.0711, 81.8995) -> (54.5858, 81.4142) construction
  arc A272 (180.6863, 70) -> (180.6863, 74) centre (180.6863, 72) ccw construction
  line L194 (179.3137, 70) -> (180.6863, 70) construction
  arc A273 (179.3137, 74) -> (179.3137, 70) centre (179.3137, 72) ccw construction
  line L195 (180.6863, 74) -> (179.3137, 74) construction
  line L196 (156.6863, 74) -> (155.3137, 74) construction
  arc A274 (156.6863, 70) -> (156.6863, 74) centre (156.6863, 72) ccw construction
  line L197 (155.3137, 70) -> (156.6863, 70) construction
  arc A275 (155.3137, 74) -> (155.3137, 70) centre (155.3137, 72) ccw construction
  line L198 (132.6863, 74) -> (131.3137, 74) construction
  arc A276 (132.6863, 70) -> (132.6863, 74) centre (132.6863, 72) ccw construction
  line L199 (131.3137, 70) -> (132.6863, 70) construction
  arc A277 (131.3137, 74) -> (131.3137, 70) centre (131.3137, 72) ccw construction
  line L200 (108.6863, 74) -> (107.3137, 74) construction
  arc A278 (108.6863, 70) -> (108.6863, 74) centre (108.6863, 72) ccw construction
  line L201 (107.3137, 70) -> (108.6863, 70) construction
  arc A279 (107.3137, 74) -> (107.3137, 70) centre (107.3137, 72) ccw construction
  line L202 (84.6863, 74) -> (83.3137, 74) construction
  arc A280 (84.6863, 70) -> (84.6863, 74) centre (84.6863, 72) ccw construction
  line L203 (83.3137, 70) -> (84.6863, 70) construction
  arc A281 (83.3137, 74) -> (83.3137, 70) centre (83.3137, 72) ccw construction
  line L204 (60.6863, 74) -> (59.3137, 74) construction
  arc A282 (60.6863, 70) -> (60.6863, 74) centre (60.6863, 72) ccw construction
  line L205 (59.3137, 70) -> (60.6863, 70) construction
  arc A283 (59.3137, 74) -> (59.3137, 70) centre (59.3137, 72) ccw construction
  arc A284 (175.0711, 62.1005) -> (177.8995, 64.9289) centre (176.4853, 63.5147) ccw construction
  line L206 (174.5858, 62.5858) -> (175.0711, 62.1005) construction
  arc A285 (177.4142, 65.4142) -> (174.5858, 62.5858) centre (176, 64) ccw construction
  line L207 (177.8995, 64.9289) -> (177.4142, 65.4142) construction
  arc A286 (151.0711, 62.1005) -> (153.8995, 64.9289) centre (152.4853, 63.5147) ccw construction
  line L208 (150.5858, 62.5858) -> (151.0711, 62.1005) construction
  arc A287 (153.4142, 65.4142) -> (150.5858, 62.5858) centre (152, 64) ccw construction
  line L209 (153.8995, 64.9289) -> (153.4142, 65.4142) construction
  arc A288 (127.0711, 62.1005) -> (129.8995, 64.9289) centre (128.4853, 63.5147) ccw construction
  line L210 (126.5858, 62.5858) -> (127.0711, 62.1005) construction
  arc A289 (129.4142, 65.4142) -> (126.5858, 62.5858) centre (128, 64) ccw construction
  line L211 (129.8995, 64.9289) -> (129.4142, 65.4142) construction
  arc A290 (103.0711, 62.1005) -> (105.8995, 64.9289) centre (104.4853, 63.5147) ccw construction
  line L212 (102.5858, 62.5858) -> (103.0711, 62.1005) construction
  arc A291 (105.4142, 65.4142) -> (102.5858, 62.5858) centre (104, 64) ccw construction
  line L213 (105.8995, 64.9289) -> (105.4142, 65.4142) construction
  arc A292 (79.0711, 62.1005) -> (81.8995, 64.9289) centre (80.4853, 63.5147) ccw construction
  line L214 (78.5858, 62.5858) -> (79.0711, 62.1005) construction
  arc A293 (81.4142, 65.4142) -> (78.5858, 62.5858) centre (80, 64) ccw construction
  line L215 (81.8995, 64.9289) -> (81.4142, 65.4142) construction
  arc A294 (55.0711, 62.1005) -> (57.8995, 64.9289) centre (56.4853, 63.5147) ccw construction
  line L216 (54.5858, 62.5858) -> (55.0711, 62.1005) construction
  arc A295 (57.4142, 65.4142) -> (54.5858, 62.5858) centre (56, 64) ccw construction
  line L217 (57.8995, 64.9289) -> (57.4142, 65.4142) construction
  arc A296 (160.9289, 81.8995) -> (158.1005, 79.0711) centre (159.5147, 80.4853) ccw construction
  line L218 (161.4142, 81.4142) -> (160.9289, 81.8995) construction
  arc A297 (158.5858, 78.5858) -> (161.4142, 81.4142) centre (160, 80) ccw construction
  line L219 (158.1005, 79.0711) -> (158.5858, 78.5858) construction
  arc A298 (136.9289, 81.8995) -> (134.1005, 79.0711) centre (135.5147, 80.4853) ccw construction
  line L220 (137.4142, 81.4142) -> (136.9289, 81.8995) construction
  arc A299 (134.5858, 78.5858) -> (137.4142, 81.4142) centre (136, 80) ccw construction
  line L221 (134.1005, 79.0711) -> (134.5858, 78.5858) construction
  arc A300 (112.9289, 81.8995) -> (110.1005, 79.0711) centre (111.5147, 80.4853) ccw construction
  line L222 (113.4142, 81.4142) -> (112.9289, 81.8995) construction
  arc A301 (110.5858, 78.5858) -> (113.4142, 81.4142) centre (112, 80) ccw construction
  line L223 (110.1005, 79.0711) -> (110.5858, 78.5858) construction
  arc A302 (88.9289, 81.8995) -> (86.1005, 79.0711) centre (87.5147, 80.4853) ccw construction
  line L224 (89.4142, 81.4142) -> (88.9289, 81.8995) construction
  arc A303 (86.5858, 78.5858) -> (89.4142, 81.4142) centre (88, 80) ccw construction
  line L225 (86.1005, 79.0711) -> (86.5858, 78.5858) construction
  arc A304 (64.9289, 81.8995) -> (62.1005, 79.0711) centre (63.5147, 80.4853) ccw construction
  line L226 (65.4142, 81.4142) -> (64.9289, 81.8995) construction
  arc A305 (62.5858, 78.5858) -> (65.4142, 81.4142) centre (64, 80) ccw construction
  line L227 (62.1005, 79.0711) -> (62.5858, 78.5858) construction
  arc A306 (40.9289, 81.8995) -> (38.1005, 79.0711) centre (39.5147, 80.4853) ccw construction
  line L228 (41.4142, 81.4142) -> (40.9289, 81.8995) construction
  arc A307 (38.5858, 78.5858) -> (41.4142, 81.4142) centre (40, 80) ccw construction
  line L229 (38.1005, 79.0711) -> (38.5858, 78.5858) construction
  arc A308 (16.9289, 81.8995) -> (14.1005, 79.0711) centre (15.5147, 80.4853) ccw construction
  line L230 (17.4142, 81.4142) -> (16.9289, 81.8995) construction
  arc A309 (14.5858, 78.5858) -> (17.4142, 81.4142) centre (16, 80) ccw construction
  line L231 (14.1005, 79.0711) -> (14.5858, 78.5858) construction
  circle A310 centre (168, 72) radius 7 construction
  circle A311 centre (144, 72) radius 7 construction
  circle A312 centre (120, 72) radius 7 construction
  circle A313 centre (96, 72) radius 7 construction
  circle A314 centre (72, 72) radius 7 construction
  circle A315 centre (8, 88) radius 1.778
  circle A316 centre (8, 56) radius 1.778
  circle A317 centre (8, 40) radius 1.778
  circle A318 centre (8, 8) radius 1.778
  circle A319 centre (184, 88) radius 1.778
  circle A320 centre (184, 56) radius 1.778
  circle A321 centre (184, 40) radius 1.778
  circle A322 centre (184, 8) radius 1.778
  circle A323 centre (104, 56) radius 1.778
  circle A324 centre (104, 88) radius 1.778
  circle A325 centre (104, 40) radius 1.778
  circle A326 centre (104, 8) radius 1.778
extrude "Extrusion1" add sketch "Sketch1" along normal blind 6.35
properties part number "new sidewall inside"
